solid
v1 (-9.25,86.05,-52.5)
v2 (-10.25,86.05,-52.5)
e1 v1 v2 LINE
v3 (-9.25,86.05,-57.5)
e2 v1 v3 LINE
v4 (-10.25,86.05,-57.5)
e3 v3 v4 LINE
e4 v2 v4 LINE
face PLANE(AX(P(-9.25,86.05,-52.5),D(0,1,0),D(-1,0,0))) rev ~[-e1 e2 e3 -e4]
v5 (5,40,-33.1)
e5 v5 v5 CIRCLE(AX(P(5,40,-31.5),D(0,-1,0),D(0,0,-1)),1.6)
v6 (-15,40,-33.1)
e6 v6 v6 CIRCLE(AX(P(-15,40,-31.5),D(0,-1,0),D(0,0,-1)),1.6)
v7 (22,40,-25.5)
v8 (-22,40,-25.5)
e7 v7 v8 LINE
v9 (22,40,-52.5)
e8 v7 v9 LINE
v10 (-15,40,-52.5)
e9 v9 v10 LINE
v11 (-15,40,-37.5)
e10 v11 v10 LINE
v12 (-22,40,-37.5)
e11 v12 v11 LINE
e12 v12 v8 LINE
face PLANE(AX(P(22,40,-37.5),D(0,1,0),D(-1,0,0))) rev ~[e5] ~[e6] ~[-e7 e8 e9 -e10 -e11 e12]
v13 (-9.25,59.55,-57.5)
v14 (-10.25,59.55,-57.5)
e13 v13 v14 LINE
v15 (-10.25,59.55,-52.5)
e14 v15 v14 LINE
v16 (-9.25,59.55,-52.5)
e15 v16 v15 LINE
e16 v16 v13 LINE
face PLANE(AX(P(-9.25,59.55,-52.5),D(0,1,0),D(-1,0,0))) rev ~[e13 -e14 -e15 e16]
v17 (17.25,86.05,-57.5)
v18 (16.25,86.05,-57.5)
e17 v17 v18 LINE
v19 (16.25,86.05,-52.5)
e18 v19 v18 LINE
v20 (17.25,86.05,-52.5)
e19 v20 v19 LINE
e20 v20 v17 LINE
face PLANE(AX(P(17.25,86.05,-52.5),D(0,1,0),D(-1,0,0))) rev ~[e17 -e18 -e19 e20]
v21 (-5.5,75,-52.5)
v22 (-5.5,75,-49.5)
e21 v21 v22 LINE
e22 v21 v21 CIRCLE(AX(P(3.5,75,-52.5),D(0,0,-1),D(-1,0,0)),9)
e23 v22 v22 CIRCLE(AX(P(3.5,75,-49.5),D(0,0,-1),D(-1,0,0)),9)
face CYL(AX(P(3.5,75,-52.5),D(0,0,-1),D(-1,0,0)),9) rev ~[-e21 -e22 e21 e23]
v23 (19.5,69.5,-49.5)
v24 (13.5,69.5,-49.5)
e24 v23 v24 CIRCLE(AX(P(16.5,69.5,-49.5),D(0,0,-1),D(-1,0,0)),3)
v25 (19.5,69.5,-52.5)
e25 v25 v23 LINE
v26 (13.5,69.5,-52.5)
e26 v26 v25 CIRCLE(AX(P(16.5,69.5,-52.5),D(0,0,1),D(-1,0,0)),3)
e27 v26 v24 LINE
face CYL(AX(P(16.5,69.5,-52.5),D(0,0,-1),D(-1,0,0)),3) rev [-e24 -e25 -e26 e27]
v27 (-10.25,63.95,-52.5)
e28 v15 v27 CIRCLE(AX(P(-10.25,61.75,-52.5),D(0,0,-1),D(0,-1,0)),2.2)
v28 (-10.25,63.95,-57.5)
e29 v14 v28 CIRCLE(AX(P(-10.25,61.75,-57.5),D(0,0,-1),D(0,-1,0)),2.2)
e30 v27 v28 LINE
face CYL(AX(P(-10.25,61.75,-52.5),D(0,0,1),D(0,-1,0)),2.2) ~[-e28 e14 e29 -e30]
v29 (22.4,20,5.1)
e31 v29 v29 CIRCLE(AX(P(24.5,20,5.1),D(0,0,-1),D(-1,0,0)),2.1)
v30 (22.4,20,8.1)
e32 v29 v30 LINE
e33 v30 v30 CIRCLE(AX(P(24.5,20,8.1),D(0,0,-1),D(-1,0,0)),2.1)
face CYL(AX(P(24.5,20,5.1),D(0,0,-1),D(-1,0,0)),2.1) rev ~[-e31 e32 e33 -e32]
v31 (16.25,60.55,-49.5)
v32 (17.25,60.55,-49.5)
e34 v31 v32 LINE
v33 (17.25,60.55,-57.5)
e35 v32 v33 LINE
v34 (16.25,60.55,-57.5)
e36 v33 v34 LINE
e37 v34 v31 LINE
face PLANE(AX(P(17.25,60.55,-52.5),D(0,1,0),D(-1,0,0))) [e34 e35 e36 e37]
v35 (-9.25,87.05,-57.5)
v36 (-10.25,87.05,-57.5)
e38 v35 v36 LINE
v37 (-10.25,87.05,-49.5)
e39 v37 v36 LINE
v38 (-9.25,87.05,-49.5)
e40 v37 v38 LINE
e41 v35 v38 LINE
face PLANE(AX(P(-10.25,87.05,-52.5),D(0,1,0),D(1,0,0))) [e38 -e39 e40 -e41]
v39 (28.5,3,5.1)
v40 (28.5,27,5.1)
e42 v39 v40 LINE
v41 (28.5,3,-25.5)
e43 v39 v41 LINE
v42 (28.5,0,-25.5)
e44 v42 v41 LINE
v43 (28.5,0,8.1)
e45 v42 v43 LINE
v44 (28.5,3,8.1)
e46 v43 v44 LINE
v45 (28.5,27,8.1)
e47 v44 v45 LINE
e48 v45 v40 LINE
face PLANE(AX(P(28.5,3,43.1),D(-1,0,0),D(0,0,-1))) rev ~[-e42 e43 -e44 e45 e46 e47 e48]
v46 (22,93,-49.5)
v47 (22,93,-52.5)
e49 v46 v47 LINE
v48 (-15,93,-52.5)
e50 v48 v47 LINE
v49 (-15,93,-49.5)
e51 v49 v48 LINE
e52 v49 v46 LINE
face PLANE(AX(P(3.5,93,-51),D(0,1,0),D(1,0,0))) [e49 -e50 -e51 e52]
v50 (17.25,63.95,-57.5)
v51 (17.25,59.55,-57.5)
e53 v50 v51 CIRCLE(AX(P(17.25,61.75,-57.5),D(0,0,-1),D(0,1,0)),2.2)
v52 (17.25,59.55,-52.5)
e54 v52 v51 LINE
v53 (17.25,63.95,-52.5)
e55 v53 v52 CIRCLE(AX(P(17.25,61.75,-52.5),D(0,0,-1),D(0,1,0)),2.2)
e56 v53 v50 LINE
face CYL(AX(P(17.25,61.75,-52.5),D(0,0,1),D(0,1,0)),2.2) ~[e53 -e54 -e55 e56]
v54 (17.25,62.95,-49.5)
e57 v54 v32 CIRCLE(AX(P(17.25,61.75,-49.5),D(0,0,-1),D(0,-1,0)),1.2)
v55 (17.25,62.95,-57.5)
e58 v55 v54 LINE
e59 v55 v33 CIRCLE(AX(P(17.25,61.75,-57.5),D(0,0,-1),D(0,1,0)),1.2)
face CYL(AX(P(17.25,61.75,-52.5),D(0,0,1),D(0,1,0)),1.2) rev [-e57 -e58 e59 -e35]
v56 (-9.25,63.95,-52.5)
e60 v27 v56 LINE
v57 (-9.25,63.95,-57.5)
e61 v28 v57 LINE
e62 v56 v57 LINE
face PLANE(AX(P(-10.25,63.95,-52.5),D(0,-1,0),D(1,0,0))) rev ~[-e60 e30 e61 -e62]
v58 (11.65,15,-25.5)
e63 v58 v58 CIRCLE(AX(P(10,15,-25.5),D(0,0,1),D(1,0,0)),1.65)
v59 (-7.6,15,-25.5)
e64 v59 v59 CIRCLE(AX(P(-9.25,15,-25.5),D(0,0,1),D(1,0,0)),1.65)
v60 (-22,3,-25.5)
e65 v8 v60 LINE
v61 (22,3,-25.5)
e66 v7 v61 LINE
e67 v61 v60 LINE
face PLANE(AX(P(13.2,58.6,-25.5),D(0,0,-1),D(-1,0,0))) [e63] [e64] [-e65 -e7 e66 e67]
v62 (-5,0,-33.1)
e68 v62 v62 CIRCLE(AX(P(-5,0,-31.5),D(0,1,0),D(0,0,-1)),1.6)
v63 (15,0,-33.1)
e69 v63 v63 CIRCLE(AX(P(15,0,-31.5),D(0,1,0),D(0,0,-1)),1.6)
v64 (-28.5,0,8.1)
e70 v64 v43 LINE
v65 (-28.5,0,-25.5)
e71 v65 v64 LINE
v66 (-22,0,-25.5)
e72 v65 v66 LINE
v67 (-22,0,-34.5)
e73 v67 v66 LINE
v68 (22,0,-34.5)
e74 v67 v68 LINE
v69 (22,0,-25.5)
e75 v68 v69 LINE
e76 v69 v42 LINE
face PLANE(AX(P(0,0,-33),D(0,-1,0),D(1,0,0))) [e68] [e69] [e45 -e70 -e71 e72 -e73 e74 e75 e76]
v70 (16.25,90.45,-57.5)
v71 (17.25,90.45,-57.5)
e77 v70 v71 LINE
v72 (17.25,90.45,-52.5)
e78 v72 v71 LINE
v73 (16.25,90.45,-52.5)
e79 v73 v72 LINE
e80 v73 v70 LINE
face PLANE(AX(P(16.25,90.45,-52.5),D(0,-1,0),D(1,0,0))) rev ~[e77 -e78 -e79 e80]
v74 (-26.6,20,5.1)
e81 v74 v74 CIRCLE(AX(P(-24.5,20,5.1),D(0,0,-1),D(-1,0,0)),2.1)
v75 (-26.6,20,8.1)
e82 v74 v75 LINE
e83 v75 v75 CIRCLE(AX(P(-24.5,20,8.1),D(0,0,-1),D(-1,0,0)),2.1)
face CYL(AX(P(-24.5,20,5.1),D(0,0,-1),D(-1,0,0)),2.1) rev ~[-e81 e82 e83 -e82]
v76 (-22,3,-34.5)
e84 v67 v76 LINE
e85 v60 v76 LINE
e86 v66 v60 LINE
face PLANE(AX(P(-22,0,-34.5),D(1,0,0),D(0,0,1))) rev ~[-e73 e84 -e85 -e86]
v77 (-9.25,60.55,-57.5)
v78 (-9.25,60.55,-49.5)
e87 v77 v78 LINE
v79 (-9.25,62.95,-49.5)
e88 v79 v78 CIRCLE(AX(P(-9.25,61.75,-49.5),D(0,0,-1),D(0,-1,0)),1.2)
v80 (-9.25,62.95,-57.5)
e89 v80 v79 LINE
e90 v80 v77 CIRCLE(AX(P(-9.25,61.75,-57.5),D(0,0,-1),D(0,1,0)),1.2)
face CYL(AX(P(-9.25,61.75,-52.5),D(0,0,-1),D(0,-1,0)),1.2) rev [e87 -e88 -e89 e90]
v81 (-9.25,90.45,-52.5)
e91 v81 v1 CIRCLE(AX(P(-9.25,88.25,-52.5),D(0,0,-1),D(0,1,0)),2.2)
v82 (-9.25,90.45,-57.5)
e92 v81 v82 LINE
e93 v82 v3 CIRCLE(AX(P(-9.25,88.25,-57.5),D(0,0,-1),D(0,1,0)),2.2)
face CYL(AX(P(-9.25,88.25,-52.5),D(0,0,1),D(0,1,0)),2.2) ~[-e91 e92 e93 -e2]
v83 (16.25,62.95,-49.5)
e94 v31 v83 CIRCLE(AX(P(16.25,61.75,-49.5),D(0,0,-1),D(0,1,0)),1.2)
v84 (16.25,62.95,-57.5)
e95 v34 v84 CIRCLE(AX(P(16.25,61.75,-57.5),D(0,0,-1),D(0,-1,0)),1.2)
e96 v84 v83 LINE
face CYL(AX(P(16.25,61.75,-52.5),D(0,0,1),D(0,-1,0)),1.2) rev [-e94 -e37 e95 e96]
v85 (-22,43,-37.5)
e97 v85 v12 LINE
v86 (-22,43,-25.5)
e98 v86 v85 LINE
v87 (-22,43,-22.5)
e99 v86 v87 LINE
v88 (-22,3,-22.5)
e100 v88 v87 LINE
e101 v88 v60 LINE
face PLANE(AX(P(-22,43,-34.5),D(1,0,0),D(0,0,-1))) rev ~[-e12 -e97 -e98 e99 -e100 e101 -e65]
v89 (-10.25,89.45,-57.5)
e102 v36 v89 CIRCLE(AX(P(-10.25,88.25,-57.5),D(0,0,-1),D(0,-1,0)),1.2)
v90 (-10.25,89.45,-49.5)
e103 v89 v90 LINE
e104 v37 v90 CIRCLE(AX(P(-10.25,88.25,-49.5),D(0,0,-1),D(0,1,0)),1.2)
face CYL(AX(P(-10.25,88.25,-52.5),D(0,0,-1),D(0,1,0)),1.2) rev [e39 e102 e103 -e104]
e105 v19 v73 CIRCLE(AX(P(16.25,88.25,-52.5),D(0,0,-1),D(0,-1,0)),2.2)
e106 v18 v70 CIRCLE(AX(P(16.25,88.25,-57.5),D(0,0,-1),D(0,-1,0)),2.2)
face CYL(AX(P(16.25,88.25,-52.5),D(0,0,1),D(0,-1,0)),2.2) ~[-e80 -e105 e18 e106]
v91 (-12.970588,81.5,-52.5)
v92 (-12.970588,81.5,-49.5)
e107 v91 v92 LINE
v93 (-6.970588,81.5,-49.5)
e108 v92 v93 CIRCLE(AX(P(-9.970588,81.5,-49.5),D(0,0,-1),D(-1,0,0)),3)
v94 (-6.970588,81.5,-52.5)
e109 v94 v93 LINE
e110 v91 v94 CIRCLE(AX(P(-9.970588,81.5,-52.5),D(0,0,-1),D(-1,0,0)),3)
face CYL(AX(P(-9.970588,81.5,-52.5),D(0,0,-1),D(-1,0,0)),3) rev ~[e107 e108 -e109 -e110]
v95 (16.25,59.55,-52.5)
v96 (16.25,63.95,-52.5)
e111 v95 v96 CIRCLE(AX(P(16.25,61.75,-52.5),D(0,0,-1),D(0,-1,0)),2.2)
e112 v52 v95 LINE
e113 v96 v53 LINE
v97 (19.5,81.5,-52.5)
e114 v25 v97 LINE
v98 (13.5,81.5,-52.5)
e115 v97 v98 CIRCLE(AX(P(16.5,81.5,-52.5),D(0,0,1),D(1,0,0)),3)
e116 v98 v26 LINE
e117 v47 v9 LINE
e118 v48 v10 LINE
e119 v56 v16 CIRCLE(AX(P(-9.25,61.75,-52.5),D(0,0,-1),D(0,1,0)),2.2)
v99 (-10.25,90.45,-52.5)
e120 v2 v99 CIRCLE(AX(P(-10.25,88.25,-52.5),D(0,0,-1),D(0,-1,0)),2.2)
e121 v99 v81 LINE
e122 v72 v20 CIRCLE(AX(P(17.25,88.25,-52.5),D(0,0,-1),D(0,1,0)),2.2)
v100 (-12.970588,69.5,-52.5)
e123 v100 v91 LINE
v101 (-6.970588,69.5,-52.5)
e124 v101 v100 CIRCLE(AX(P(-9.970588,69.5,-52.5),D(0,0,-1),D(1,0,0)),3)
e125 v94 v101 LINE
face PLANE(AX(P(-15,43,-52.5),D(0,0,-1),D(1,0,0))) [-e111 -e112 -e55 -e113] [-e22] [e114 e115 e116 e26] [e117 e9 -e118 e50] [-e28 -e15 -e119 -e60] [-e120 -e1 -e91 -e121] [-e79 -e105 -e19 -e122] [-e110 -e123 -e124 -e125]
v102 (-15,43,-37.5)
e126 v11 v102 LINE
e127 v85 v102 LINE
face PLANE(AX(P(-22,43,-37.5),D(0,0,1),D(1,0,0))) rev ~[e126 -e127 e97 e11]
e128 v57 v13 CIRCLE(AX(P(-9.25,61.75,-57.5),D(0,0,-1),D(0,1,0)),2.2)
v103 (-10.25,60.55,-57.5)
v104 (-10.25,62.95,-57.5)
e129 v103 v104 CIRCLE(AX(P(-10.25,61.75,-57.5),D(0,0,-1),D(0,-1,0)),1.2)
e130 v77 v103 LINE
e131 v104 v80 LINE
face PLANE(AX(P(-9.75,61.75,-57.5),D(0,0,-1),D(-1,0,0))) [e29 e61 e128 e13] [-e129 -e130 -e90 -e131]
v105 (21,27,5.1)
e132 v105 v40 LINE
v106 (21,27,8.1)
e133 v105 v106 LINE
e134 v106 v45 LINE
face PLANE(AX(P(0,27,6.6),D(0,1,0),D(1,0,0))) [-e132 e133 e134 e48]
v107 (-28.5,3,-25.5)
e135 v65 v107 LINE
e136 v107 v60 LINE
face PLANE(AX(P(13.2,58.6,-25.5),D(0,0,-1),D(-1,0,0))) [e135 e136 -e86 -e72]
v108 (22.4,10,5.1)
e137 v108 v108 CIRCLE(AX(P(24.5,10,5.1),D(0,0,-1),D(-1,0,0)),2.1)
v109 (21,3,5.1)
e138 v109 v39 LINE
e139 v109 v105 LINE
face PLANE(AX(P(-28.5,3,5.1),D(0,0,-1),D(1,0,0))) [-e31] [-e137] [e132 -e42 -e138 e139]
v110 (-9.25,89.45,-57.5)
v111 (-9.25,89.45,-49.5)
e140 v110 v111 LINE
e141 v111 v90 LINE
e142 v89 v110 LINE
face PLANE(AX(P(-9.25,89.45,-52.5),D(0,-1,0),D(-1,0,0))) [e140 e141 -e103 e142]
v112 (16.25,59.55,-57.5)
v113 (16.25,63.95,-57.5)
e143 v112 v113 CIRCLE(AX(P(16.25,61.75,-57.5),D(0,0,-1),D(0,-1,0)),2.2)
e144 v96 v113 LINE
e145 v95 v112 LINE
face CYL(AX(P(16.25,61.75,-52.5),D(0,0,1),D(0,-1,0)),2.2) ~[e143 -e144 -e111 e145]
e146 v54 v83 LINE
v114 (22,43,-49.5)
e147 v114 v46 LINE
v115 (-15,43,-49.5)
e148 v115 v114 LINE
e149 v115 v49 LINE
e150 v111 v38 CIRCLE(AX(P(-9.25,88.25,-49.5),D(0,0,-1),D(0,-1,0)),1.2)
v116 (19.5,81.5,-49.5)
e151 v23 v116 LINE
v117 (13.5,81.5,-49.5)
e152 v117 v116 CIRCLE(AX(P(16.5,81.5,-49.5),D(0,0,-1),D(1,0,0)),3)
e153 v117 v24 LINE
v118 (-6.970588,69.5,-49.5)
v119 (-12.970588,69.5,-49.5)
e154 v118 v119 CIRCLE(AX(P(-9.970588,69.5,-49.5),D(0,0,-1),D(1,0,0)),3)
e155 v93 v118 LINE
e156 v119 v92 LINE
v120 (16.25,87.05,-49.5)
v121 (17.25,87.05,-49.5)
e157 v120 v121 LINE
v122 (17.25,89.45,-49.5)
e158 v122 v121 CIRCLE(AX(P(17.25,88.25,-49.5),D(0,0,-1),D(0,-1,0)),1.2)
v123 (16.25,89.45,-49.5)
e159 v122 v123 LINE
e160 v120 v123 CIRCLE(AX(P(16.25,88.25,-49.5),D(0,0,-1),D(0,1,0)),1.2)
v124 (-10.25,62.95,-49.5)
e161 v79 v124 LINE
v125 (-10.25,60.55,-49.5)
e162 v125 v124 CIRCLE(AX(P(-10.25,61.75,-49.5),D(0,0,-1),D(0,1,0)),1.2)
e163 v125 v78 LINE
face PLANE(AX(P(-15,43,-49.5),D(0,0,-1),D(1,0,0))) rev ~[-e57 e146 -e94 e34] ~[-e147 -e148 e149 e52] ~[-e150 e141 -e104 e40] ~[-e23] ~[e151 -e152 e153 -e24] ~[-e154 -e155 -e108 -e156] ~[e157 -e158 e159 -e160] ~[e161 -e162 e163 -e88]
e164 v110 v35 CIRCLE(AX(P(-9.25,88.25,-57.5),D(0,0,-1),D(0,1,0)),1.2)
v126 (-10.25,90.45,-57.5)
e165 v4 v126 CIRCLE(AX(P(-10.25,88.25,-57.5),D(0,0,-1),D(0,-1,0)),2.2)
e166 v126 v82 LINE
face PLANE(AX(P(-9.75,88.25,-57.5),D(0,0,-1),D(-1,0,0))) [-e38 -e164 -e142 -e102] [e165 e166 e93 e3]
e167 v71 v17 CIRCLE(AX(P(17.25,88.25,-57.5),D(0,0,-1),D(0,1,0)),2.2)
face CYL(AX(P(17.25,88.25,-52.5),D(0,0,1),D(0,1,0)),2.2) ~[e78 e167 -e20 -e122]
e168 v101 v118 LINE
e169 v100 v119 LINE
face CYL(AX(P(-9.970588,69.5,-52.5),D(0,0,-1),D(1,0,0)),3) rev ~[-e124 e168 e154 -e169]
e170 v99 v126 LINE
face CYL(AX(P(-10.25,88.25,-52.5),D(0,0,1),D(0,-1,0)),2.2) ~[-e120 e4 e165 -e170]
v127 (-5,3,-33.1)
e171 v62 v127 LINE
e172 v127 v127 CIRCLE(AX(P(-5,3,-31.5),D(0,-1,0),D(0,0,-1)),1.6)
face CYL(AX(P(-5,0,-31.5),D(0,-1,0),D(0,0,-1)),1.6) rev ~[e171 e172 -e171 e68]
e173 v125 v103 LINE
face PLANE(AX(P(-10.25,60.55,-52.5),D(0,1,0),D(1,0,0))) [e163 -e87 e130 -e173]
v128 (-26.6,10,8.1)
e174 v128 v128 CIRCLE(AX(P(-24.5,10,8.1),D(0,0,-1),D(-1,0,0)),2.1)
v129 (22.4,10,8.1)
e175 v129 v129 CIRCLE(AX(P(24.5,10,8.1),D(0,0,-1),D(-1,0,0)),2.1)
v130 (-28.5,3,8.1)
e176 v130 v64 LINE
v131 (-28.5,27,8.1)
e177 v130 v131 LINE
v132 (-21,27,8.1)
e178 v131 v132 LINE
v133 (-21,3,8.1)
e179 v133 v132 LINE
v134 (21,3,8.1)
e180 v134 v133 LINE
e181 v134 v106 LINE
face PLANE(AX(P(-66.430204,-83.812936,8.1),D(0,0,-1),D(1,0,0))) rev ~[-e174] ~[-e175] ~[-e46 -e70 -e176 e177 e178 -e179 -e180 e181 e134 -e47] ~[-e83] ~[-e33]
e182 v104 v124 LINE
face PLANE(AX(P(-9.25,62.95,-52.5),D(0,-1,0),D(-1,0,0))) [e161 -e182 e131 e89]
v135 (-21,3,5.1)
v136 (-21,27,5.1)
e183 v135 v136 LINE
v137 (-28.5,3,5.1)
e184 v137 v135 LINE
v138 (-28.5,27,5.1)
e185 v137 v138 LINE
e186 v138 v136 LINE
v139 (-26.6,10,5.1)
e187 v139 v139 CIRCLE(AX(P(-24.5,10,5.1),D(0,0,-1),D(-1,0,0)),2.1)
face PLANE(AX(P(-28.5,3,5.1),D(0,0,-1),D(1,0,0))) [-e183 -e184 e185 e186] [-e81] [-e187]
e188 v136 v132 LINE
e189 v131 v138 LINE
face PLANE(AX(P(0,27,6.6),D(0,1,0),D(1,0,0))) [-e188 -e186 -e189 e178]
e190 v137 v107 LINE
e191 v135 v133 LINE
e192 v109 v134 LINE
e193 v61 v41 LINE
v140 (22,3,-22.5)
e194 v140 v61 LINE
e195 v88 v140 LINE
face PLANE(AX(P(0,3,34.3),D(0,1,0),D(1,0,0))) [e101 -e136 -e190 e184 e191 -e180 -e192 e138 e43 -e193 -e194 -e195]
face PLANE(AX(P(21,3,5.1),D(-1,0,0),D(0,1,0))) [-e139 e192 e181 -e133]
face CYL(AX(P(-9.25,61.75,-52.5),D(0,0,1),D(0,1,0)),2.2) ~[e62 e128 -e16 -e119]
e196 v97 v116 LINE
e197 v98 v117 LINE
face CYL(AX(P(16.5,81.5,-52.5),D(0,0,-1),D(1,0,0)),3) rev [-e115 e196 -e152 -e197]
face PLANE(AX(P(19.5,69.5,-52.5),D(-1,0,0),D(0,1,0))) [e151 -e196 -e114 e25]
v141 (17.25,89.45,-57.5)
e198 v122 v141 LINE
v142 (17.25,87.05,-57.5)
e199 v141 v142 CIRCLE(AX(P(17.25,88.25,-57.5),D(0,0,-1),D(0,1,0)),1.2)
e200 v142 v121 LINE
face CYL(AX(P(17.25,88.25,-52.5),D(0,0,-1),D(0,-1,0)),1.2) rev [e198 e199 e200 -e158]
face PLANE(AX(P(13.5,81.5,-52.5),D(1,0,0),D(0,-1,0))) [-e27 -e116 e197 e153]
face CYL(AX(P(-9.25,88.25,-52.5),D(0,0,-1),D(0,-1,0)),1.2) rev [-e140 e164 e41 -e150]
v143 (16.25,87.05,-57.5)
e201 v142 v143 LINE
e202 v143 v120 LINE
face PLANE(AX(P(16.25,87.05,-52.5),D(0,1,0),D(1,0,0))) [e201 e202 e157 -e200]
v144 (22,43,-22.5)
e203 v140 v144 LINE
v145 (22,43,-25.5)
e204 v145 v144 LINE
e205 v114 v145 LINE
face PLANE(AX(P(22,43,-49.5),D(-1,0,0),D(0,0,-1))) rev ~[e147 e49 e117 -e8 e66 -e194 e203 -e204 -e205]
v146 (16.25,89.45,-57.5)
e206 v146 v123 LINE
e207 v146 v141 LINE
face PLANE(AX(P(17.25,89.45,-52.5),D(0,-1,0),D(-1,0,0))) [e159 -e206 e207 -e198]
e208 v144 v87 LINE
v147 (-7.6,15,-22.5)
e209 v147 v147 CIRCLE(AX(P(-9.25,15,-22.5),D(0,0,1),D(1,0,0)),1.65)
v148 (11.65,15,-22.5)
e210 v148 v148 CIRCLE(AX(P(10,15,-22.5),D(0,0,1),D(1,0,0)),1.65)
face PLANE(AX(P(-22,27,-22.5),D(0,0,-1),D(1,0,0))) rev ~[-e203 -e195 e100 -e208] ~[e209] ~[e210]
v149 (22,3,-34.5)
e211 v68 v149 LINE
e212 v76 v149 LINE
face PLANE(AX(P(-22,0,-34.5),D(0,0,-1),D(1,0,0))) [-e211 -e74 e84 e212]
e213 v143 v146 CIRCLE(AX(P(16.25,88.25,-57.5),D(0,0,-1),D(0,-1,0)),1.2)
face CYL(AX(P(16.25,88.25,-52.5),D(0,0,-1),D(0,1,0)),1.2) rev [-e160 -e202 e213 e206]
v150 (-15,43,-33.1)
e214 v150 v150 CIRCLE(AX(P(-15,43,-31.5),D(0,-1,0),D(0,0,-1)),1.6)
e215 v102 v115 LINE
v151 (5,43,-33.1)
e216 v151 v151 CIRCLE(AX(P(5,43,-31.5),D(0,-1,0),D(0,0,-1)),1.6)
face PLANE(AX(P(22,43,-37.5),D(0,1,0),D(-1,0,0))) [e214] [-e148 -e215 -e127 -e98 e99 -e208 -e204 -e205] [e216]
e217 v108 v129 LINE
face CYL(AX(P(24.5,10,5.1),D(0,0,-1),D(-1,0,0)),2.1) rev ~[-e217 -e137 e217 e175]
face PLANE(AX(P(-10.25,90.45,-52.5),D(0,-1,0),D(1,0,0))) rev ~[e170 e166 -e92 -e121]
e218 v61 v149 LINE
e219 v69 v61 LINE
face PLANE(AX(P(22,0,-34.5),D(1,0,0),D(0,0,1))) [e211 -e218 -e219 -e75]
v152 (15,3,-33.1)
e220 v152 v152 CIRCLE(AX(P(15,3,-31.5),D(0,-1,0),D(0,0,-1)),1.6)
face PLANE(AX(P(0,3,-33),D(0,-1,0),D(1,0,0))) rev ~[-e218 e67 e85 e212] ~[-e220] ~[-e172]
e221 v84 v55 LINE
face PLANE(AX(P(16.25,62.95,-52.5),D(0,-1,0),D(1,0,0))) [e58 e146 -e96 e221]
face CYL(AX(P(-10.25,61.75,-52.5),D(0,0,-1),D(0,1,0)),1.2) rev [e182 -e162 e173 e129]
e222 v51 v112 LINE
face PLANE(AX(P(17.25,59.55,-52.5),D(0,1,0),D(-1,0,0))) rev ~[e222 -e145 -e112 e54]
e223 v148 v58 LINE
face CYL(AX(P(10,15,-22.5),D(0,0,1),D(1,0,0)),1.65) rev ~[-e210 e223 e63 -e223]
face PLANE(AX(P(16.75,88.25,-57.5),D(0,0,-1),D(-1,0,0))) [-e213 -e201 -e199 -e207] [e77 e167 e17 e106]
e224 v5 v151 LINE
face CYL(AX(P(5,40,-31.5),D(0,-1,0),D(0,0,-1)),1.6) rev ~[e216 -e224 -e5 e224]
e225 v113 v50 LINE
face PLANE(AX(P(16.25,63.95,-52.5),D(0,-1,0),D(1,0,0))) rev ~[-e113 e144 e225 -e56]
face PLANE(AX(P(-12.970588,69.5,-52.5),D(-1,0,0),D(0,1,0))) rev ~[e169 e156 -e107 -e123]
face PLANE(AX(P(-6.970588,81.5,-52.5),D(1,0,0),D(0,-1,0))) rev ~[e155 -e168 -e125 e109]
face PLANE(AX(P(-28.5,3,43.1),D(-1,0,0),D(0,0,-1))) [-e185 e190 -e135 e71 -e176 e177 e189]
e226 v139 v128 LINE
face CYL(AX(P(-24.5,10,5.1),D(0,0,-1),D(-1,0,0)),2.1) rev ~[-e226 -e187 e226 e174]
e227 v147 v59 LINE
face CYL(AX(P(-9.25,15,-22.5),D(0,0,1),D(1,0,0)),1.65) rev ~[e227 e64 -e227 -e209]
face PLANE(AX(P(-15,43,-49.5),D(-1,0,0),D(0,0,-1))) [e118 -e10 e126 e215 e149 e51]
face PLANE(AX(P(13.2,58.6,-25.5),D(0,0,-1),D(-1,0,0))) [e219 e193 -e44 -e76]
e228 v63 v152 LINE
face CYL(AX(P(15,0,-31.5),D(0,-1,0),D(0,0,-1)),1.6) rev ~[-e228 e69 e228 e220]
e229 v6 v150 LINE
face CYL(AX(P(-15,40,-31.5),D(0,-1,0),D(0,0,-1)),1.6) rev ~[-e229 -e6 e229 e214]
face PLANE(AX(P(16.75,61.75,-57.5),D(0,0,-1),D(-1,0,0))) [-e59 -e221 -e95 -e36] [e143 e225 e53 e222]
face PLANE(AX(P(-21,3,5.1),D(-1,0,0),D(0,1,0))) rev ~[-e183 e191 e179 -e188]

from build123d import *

# Parameters (mm, degrees)
SKETCH_1_W                = 57
SKETCH_1_H                = 51
EXTRUDE_1_DEPTH           = 3
SKETCH_3_W                = 44
SKETCH_3_H                = 3
EXTRUDE_3_DEPTH           = 24
SKETCH_5_W                = 57
SKETCH_5_H                = 3
EXTRUDE_4_DEPTH           = 24
SKETCH_7_R                = 2.1
CUT_EXTRUDE_1_DEPTH       = 3
SKETCH_8_W                = 42
SKETCH_8_H                = 24
CUT_EXTRUDE_2_DEPTH       = 3
SKETCH_10_W               = 44
SKETCH_10_H               = 3
EXTRUDE_5_DEPTH           = 55
SKETCH_11_R               = 2.25
EXTRUDE_6_DEPTH           = 8
SKETCH_12_W               = 13
SKETCH_12_H               = 8
CUT_EXTRUDE_4_DEPTH       = 8
SKETCH_13_R               = 1.1
CUT_EXTRUDE_5_DEPTH       = 5
SKETCH_14_W               = 44
SKETCH_14_H               = 3
EXTRUDE_7_DEPTH           = 6
SKETCH_15_W               = 44
SKETCH_15_H               = 3
EXTRUDE_8_DEPTH           = 9
SKETCH_16_R               = 1.6
CUT_EXTRUDE_6_DEPTH       = 9
SKETCH_17_R               = 1.6
CUT_EXTRUDE_8_DEPTH       = 9
SKETCH_18_W               = 57
SKETCH_18_H               = 17.6
EXTRUDE_9_DEPTH           = 3
SKETCH_19_W               = 57
SKETCH_19_H               = 3
EXTRUDE_10_DEPTH          = 25
SKETCH_20_W               = 51.895035654
SKETCH_20_H               = 47.139393347
CUT_EXTRUDE_9_DEPTH       = 10
SKETCH_21_W               = 3
SKETCH_21_H               = 32
EXTRUDE_11_DEPTH          = 34
SKETCH_22_R               = 2.25
SKETCH_22_R_2             = 1.2
EXTRUDE_12_DEPTH          = 5
SKETCH_24_R               = 9
CUT_EXTRUDE_11_DEPTH      = 5
SKETCH_25_R               = 1.65
CUT_EXTRUDE_12_DEPTH      = 10
SKETCH_26_R               = 1.1
SKETCH_26_R_2             = 1.2
CUT_EXTRUDE_13_DEPTH      = 10
SKETCH_27_W               = 20.53
SKETCH_27_H               = 21
CUT_EXTRUDE_14_DEPTH      = 10
SKETCH_28_W               = 44
SKETCH_28_H               = 3
EXTRUDE_13_DEPTH          = 3
SKETCH_29_W               = 44
SKETCH_29_H               = 3
EXTRUDE_14_DEPTH          = 3
SKETCH_30_R               = 1.6
CUT_EXTRUDE_15_DEPTH      = 3
SKETCH_33_R               = 1.65
CUT_EXTRUDE_16_DEPTH      = 3
CUT_EXTRUDE_21_DEPTH      = 86.812936088
CUT_EXTRUDE_21_DEPTH_BACK = 86.812936088
SKETCH_32_W               = 94.930204489
SKETCH_32_H               = 40.916543237
SKETCH_40_W               = 37
SKETCH_40_H               = 3
EXTRUDE_19_DEPTH          = 15
SKETCH_41_W               = 37
SKETCH_41_H               = 3
EXTRUDE_20_DEPTH          = 50
SKETCH_42_R               = 9
CUT_EXTRUDE_22_DEPTH      = 45
EXTRUDE_21_DEPTH          = 5
CUT_EXTRUDE_23_DEPTH      = 10


with BuildPart() as part:
    # 草图1 → 凸台-拉伸1 (new body)
    with BuildSketch(Plane(origin=(0, 0, 0), x_dir=(1, 0, 0), z_dir=(0, 1, 0))):
        Rectangle(SKETCH_1_W, SKETCH_1_H)
    extrude(amount=EXTRUDE_1_DEPTH)

    # 草图3 → 凸台-拉伸3 (add)
    with BuildSketch(Plane(origin=(0, 3, 0), x_dir=(1, 0, 0), z_dir=(0, 1, 0))):
        with Locations((0, 24)):
            Rectangle(SKETCH_3_W, SKETCH_3_H)
    extrude(amount=EXTRUDE_3_DEPTH)

    # 草图5 → 凸台-拉伸4 (add)
    with BuildSketch(Plane(origin=(0, 3, 0), x_dir=(1, 0, 0), z_dir=(0, 1, 0))):
        with Locations((0, -6.6)):
            Rectangle(SKETCH_5_W, SKETCH_5_H)
    extrude(amount=EXTRUDE_4_DEPTH)

    # 草图7 → 切除-拉伸1 (cut)
    with BuildSketch(Plane(origin=(0, 0, 5.1), x_dir=(-1, 0, 0), z_dir=(0, 0, -1))):
        with Locations((-24.5, 20)):
            Circle(SKETCH_7_R)
        with Locations((-24.5, 10)):
            Circle(SKETCH_7_R)
        with Locations((24.5, 20)):
            Circle(SKETCH_7_R)
        with Locations((24.5, 10)):
            Circle(SKETCH_7_R)
    extrude(amount=-CUT_EXTRUDE_1_DEPTH, mode=Mode.SUBTRACT)

    # 草图8 → 切除-拉伸2 (cut)
    with BuildSketch(Plane(origin=(0, 0, 5.1), x_dir=(-1, 0, 0), z_dir=(0, 0, -1))):
        with Locations((0, 15)):
            Rectangle(SKETCH_8_W, SKETCH_8_H)
    extrude(amount=-CUT_EXTRUDE_2_DEPTH, mode=Mode.SUBTRACT)

    # 草图10 → 凸台-拉伸5 (add)
    with BuildSketch(Plane(origin=(0, 27, 0), x_dir=(1, 0, 0), z_dir=(0, 1, 0))):
        with Locations((0, 24)):
            Rectangle(SKETCH_10_W, SKETCH_10_H)
    extrude(amount=EXTRUDE_5_DEPTH)

    # 草图11 → 凸台-拉伸6 (add)
    with BuildSketch(Plane(origin=(0, 0, -25.5), x_dir=(-1, 0, 0), z_dir=(0, 0, -1))):
        with Locations((-13.2, 85)):
            Circle(SKETCH_11_R)
        with Locations((13.2, 85)):
            Circle(SKETCH_11_R)
        with Locations((-13.2, 58.6)):
            Circle(SKETCH_11_R)
        with Locations((13.2, 58.6)):
            Circle(SKETCH_11_R)
    extrude(amount=-EXTRUDE_6_DEPTH)


with BuildPart() as extrude_6_piece_1:
    # of the separate pieces the step leaves, piece 1, a body of its own (extrude_6_pieces)
    add(part.part.solids().sort_by_distance((-28.5, 0, -25.5))[0])

    # 草图12 → 切除-拉伸4 (cut)
    with BuildSketch(Plane.XY.offset(-22.5)):
        with Locations((-3.7, 58.6)):
            Rectangle(SKETCH_12_W, SKETCH_12_H)
    extrude(amount=-CUT_EXTRUDE_4_DEPTH, mode=Mode.SUBTRACT)

    # 草图13 → 切除-拉伸5 (cut)
    with BuildSketch(Plane.XY.offset(-17.5)):
        with Locations((13.2, 85)):
            Circle(SKETCH_13_R)
        with Locations((-13.2, 85)):
            Circle(SKETCH_13_R)
        with Locations((-13.2, 58.6)):
            Circle(SKETCH_13_R)
        with Locations((13.2, 58.6)):
            Circle(SKETCH_13_R)
    extrude(amount=-CUT_EXTRUDE_5_DEPTH, mode=Mode.SUBTRACT)

    # 草图14 → 凸台-拉伸7 (add)
    with BuildSketch(Plane(origin=(0, 0, -25.5), x_dir=(-1, 0, 0), z_dir=(0, 0, -1))):
        with Locations((0, 1.5)):
            Rectangle(SKETCH_14_W, SKETCH_14_H)
    extrude(amount=EXTRUDE_7_DEPTH)

    # 草图15 → 凸台-拉伸8 (add)
    with BuildSketch(Plane(origin=(0, 0, -25.5), x_dir=(-1, 0, 0), z_dir=(0, 0, -1))):
        with Locations((0, 41.5)):
            Rectangle(SKETCH_15_W, SKETCH_15_H)
    extrude(amount=EXTRUDE_8_DEPTH)

    # 草图16 → 切除-拉伸6 (cut)
    with BuildSketch(Plane(origin=(0, 40, 0), x_dir=(-1, 0, 0), z_dir=(0, -1, 0))):
        with Locations(Location((15, 31.5, 0), (0, 0, 90))):
            Circle(SKETCH_16_R)
        with Locations(Location((-5, 31.5, 0), (0, 0, 90))):
            Circle(SKETCH_16_R)
    extrude(amount=-CUT_EXTRUDE_6_DEPTH, mode=Mode.SUBTRACT)

    # 草图17 → 切除-拉伸8 (cut)
    with BuildSketch(Plane(origin=(0, 0, 0), x_dir=(1, 0, 0), z_dir=(0, 1, 0))):
        with Locations((-5, 31.5)):
            Circle(SKETCH_17_R)
        with Locations((15, 31.5)):
            Circle(SKETCH_17_R)
    extrude(amount=CUT_EXTRUDE_8_DEPTH, mode=Mode.SUBTRACT)

    # 草图18 → 凸台-拉伸9 (add)
    with BuildSketch(Plane(origin=(0, 3, 0), x_dir=(1, 0, 0), z_dir=(0, 1, 0))):
        with Locations((0, -34.3)):
            Rectangle(SKETCH_18_W, SKETCH_18_H)
    extrude(amount=-EXTRUDE_9_DEPTH)

    # 草图19 → 凸台-拉伸10 (add)
    with BuildSketch(Plane(origin=(0, 3, 0), x_dir=(1, 0, 0), z_dir=(0, 1, 0))):
        with Locations((0, -41.6)):
            Rectangle(SKETCH_19_W, SKETCH_19_H)
    extrude(amount=EXTRUDE_10_DEPTH)


with BuildPart() as extrude_6_piece_2:
    # of the separate pieces the step leaves, piece 2, a body of its own (extrude_6_pieces)
    add(part.part.solids().sort_by_distance((-15.45, 85, -25.5))[0])


with BuildPart() as extrude_6_piece_3:
    # of the separate pieces the step leaves, piece 3, a body of its own (extrude_6_pieces)
    add(part.part.solids().sort_by_distance((10.95, 85, -25.5))[0])


with BuildPart() as cut_extrude_9_tool:
    # 草图20 → 切除-拉伸9 (new body)
    with BuildSketch(Plane(origin=(0, 0, -25.5), x_dir=(-1, 0, 0), z_dir=(0, 0, -1))):
        with Locations((-3.947517827, 66.569696674)):
            Rectangle(SKETCH_20_W, SKETCH_20_H)
    extrude(amount=-CUT_EXTRUDE_9_DEPTH)


with BuildPart() as extrude_6_piece_1_1:
    add(extrude_6_piece_1.part)

    # 切除-拉伸9: cut by cut_extrude_9_tool
    add(cut_extrude_9_tool.part, mode=Mode.SUBTRACT)

    # 草图21 → 凸台-拉伸11 (add)
    with BuildSketch(Plane.ZY.offset(28.5)):
        with Locations((41.6, 16)):
            Rectangle(SKETCH_21_W, SKETCH_21_H)
    extrude(amount=EXTRUDE_11_DEPTH)

    # 草图22 → 凸台-拉伸12 (add)
    # profile 1 of 4: a face of its own
    with BuildSketch(Plane(origin=(0, 0, 40.1), x_dir=(-1, 0, 0), z_dir=(0, 0, -1))):
        with Locations(Location((59.75, 2.75, 0), (0, 0, 180))):
            Circle(SKETCH_22_R)
        with Locations((59.75, 2.75)):
            Circle(SKETCH_22_R_2, mode=Mode.SUBTRACT)
    # profile 2 of 4: a face of its own
    with BuildSketch(Plane(origin=(0, 0, 40.1), x_dir=(-1, 0, 0), z_dir=(0, 0, -1))):
        with Locations(Location((59.75, 29.25, 0), (0, 0, 180))):
            Circle(SKETCH_22_R)
        with Locations((59.75, 29.25)):
            Circle(SKETCH_22_R_2, mode=Mode.SUBTRACT)
    # profile 3 of 4: a face of its own
    with BuildSketch(Plane(origin=(0, 0, 40.1), x_dir=(-1, 0, 0), z_dir=(0, 0, -1))):
        with Locations(Location((33.25, 29.25, 0), (0, 0, 180))):
            Circle(SKETCH_22_R)
        with Locations((33.25, 29.25)):
            Circle(SKETCH_22_R_2, mode=Mode.SUBTRACT)
    # profile 4 of 4: a face of its own
    with BuildSketch(Plane(origin=(0, 0, 40.1), x_dir=(-1, 0, 0), z_dir=(0, 0, -1))):
        with Locations(Location((33.25, 2.75, 0), (0, 0, 180))):
            Circle(SKETCH_22_R)
        with Locations((33.25, 2.75)):
            Circle(SKETCH_22_R_2, mode=Mode.SUBTRACT)
    extrude(amount=EXTRUDE_12_DEPTH)

    # 草图24 → 切除-拉伸11 (cut)
    with BuildSketch(Plane(origin=(0, 0, 40.1), x_dir=(-1, 0, 0), z_dir=(0, 0, -1))):
        with Locations((46.5, 16)):
            Circle(SKETCH_24_R)
    extrude(amount=-CUT_EXTRUDE_11_DEPTH, mode=Mode.SUBTRACT)

    # 草图25 → 切除-拉伸12 (cut)
    with BuildSketch(Plane.XY.offset(43.1)):
        with Locations((-9.25, 15)):
            Circle(SKETCH_25_R)
        with Locations((10, 15)):
            Circle(SKETCH_25_R)
    extrude(amount=-CUT_EXTRUDE_12_DEPTH, mode=Mode.SUBTRACT)

    # 草图26 → 切除-拉伸13 (cut)
    with BuildSketch(Plane(origin=(0, 0, 40.1), x_dir=(-1, 0, 0), z_dir=(0, 0, -1))):
        with Locations((33.25, 2.75)):
            Circle(SKETCH_26_R)
        with Locations(Location((33.25, 29.25, 0), (0, 0, 180))):
            Circle(SKETCH_26_R_2)
        with Locations(Location((59.75, 29.25, 0), (0, 0, 180))):
            Circle(SKETCH_26_R_2)
        with Locations(Location((59.75, 2.75, 0), (0, 0, 180))):
            Circle(SKETCH_26_R_2)
    extrude(amount=-CUT_EXTRUDE_13_DEPTH, mode=Mode.SUBTRACT)

    # 草图27 → 切除-拉伸14 (cut)
    with BuildSketch(Plane.XY.offset(43.1)):
        with BuildLine():
            Line((-34.75, 9.5), (-34.75, 22.5))
            ThreePointArc((-34.75, 22.5), (-31.25, 26), (-27.75, 22.5))
            Line((-27.75, 22.5), (-27.75, 9.5))
            ThreePointArc((-27.75, 9.5), (-31.25, 6), (-34.75, 9.5))
        make_face()
        with Locations((-69.113685247, 16)):
            Rectangle(SKETCH_27_W, SKETCH_27_H)
    extrude(amount=-CUT_EXTRUDE_14_DEPTH, mode=Mode.SUBTRACT)

    # 草图28 → 凸台-拉伸13 (add)
    with BuildSketch(Plane.XZ):
        with Locations((0, -33)):
            Rectangle(SKETCH_28_W, SKETCH_28_H)
    extrude(amount=-EXTRUDE_13_DEPTH)

    # 草图29 → 凸台-拉伸14 (add)
    with BuildSketch(Plane(origin=(0, 43, 0), x_dir=(1, 0, 0), z_dir=(0, 1, 0))):
        with Locations((0, 36)):
            Rectangle(SKETCH_29_W, SKETCH_29_H)
    extrude(amount=-EXTRUDE_14_DEPTH)

    # 草图30 → 切除-拉伸15 (cut)
    with BuildSketch(Plane.XZ):
        with Locations(Location((15, -31.5, 0), (0, 0, 270))):
            Circle(SKETCH_30_R)
        with Locations(Location((-5, -31.5, 0), (0, 0, 270))):
            Circle(SKETCH_30_R)
    extrude(amount=-CUT_EXTRUDE_15_DEPTH, mode=Mode.SUBTRACT)

    # 草图33 → 切除-拉伸16 (cut)
    with BuildSketch(Plane.XY.offset(-22.5)):
        with Locations((-9.25, 15)):
            Circle(SKETCH_33_R)
        with Locations((10, 15)):
            Circle(SKETCH_33_R)
    extrude(amount=-CUT_EXTRUDE_16_DEPTH, mode=Mode.SUBTRACT)

    # 草图32 → 切除-拉伸21 (cut, two sides: drawn at the far end of the back side and taken through both)
    with BuildSketch(Plane(origin=(0, 3, 0), x_dir=(1, 0, 0), z_dir=(0, 1, 0)).offset(-CUT_EXTRUDE_21_DEPTH_BACK)):
        with Locations((-18.965102245, -28.558271619)):
            Rectangle(SKETCH_32_W, SKETCH_32_H)
    extrude(amount=CUT_EXTRUDE_21_DEPTH + CUT_EXTRUDE_21_DEPTH_BACK, mode=Mode.SUBTRACT)

    # 草图40 → 凸台-拉伸19 (add)
    with BuildSketch(Plane(origin=(0, 0, -37.5), x_dir=(-1, 0, 0), z_dir=(0, 0, -1))):
        with Locations((-3.5, 41.5)):
            Rectangle(SKETCH_40_W, SKETCH_40_H)
    extrude(amount=EXTRUDE_19_DEPTH)

    # 草图41 → 凸台-拉伸20 (add)
    with BuildSketch(Plane(origin=(0, 43, 0), x_dir=(1, 0, 0), z_dir=(0, 1, 0))):
        with Locations((3.5, 51)):
            Rectangle(SKETCH_41_W, SKETCH_41_H)
    extrude(amount=EXTRUDE_20_DEPTH)

    # 草图42 → 切除-拉伸22 (cut)
    with BuildSketch(Plane(origin=(0, 0, -52.5), x_dir=(-1, 0, 0), z_dir=(0, 0, -1))):
        with Locations((-3.5, 75)):
            Circle(SKETCH_42_R)
        with BuildLine():
            Line((-17.25, 89.45), (-16.25, 89.45))
            ThreePointArc((-16.25, 89.45), (-15.05, 88.25), (-16.25, 87.05))
            Line((-16.25, 87.05), (-17.25, 87.05))
            ThreePointArc((-17.25, 87.05), (-18.45, 88.25), (-17.25, 89.45))
        make_face()
        with BuildLine():
            Line((10.25, 60.55), (9.25, 60.55))
            ThreePointArc((9.25, 60.55), (8.05, 61.75), (9.25, 62.95))
            Line((9.25, 62.95), (10.25, 62.95))
            ThreePointArc((10.25, 62.95), (11.45, 61.75), (10.25, 60.55))
        make_face()
        with BuildLine():
            Line((-16.25, 60.55), (-17.25, 60.55))
            ThreePointArc((-17.25, 60.55), (-18.45, 61.75), (-17.25, 62.95))
            Line((-17.25, 62.95), (-16.25, 62.95))
            ThreePointArc((-16.25, 62.95), (-15.05, 61.75), (-16.25, 60.55))
        make_face()
        with BuildLine():
            Line((10.25, 87.05), (9.25, 87.05))
            ThreePointArc((9.25, 87.05), (8.05, 88.25), (9.25, 89.45))
            Line((9.25, 89.45), (10.25, 89.45))
            ThreePointArc((10.25, 89.45), (11.45, 88.25), (10.25, 87.05))
        make_face()
    extrude(amount=-CUT_EXTRUDE_22_DEPTH, mode=Mode.SUBTRACT)

    # 草图43 → 凸台-拉伸21 (add)
    # profile 1 of 4: a face of its own
    with BuildSketch(Plane(origin=(0, 0, -52.5), x_dir=(-1, 0, 0), z_dir=(0, 0, -1))):
        with BuildLine():
            Line((-17.25, 59.55), (-16.25, 59.55))
            ThreePointArc((-16.25, 59.55), (-14.05, 61.75), (-16.25, 63.95))
            Line((-16.25, 63.95), (-17.25, 63.95))
            ThreePointArc((-17.25, 63.95), (-19.45, 61.75), (-17.25, 59.55))
        make_face()
        with BuildLine():
            Line((-17.25, 60.55), (-16.25, 60.55))
            ThreePointArc((-16.25, 60.55), (-15.05, 61.75), (-16.25, 62.95))
            Line((-16.25, 62.95), (-17.25, 62.95))
            ThreePointArc((-17.25, 62.95), (-18.45, 61.75), (-17.25, 60.55))
        make_face(mode=Mode.SUBTRACT)
    # profile 2 of 4: a face of its own
    with BuildSketch(Plane(origin=(0, 0, -52.5), x_dir=(-1, 0, 0), z_dir=(0, 0, -1))):
        with BuildLine():
            Line((9.25, 59.55), (10.25, 59.55))
            ThreePointArc((10.25, 59.55), (12.45, 61.75), (10.25, 63.95))
            Line((10.25, 63.95), (9.25, 63.95))
            ThreePointArc((9.25, 63.95), (7.05, 61.75), (9.25, 59.55))
        make_face()
        with BuildLine():
            Line((9.25, 60.55), (10.25, 60.55))
            ThreePointArc((10.25, 60.55), (11.45, 61.75), (10.25, 62.95))
            Line((10.25, 62.95), (9.25, 62.95))
            ThreePointArc((9.25, 62.95), (8.05, 61.75), (9.25, 60.55))
        make_face(mode=Mode.SUBTRACT)
    # profile 3 of 4: a face of its own
    with BuildSketch(Plane(origin=(0, 0, -52.5), x_dir=(-1, 0, 0), z_dir=(0, 0, -1))):
        with BuildLine():
            Line((9.25, 86.05), (10.25, 86.05))
            ThreePointArc((10.25, 86.05), (12.45, 88.25), (10.25, 90.45))
            Line((10.25, 90.45), (9.25, 90.45))
            ThreePointArc((9.25, 90.45), (7.05, 88.25), (9.25, 86.05))
        make_face()
        with BuildLine():
            Line((9.25, 87.05), (10.25, 87.05))
            ThreePointArc((10.25, 87.05), (11.45, 88.25), (10.25, 89.45))
            Line((10.25, 89.45), (9.25, 89.45))
            ThreePointArc((9.25, 89.45), (8.05, 88.25), (9.25, 87.05))
        make_face(mode=Mode.SUBTRACT)
    # profile 4 of 4: a face of its own
    with BuildSketch(Plane(origin=(0, 0, -52.5), x_dir=(-1, 0, 0), z_dir=(0, 0, -1))):
        with BuildLine():
            Line((-17.25, 86.05), (-16.25, 86.05))
            ThreePointArc((-16.25, 86.05), (-14.05, 88.25), (-16.25, 90.45))
            Line((-16.25, 90.45), (-17.25, 90.45))
            ThreePointArc((-17.25, 90.45), (-19.45, 88.25), (-17.25, 86.05))
        make_face()
        with BuildLine():
            Line((-17.25, 87.05), (-16.25, 87.05))
            ThreePointArc((-16.25, 87.05), (-15.05, 88.25), (-16.25, 89.45))
            Line((-16.25, 89.45), (-17.25, 89.45))
            ThreePointArc((-17.25, 89.45), (-18.45, 88.25), (-17.25, 87.05))
        make_face(mode=Mode.SUBTRACT)
    extrude(amount=EXTRUDE_21_DEPTH)

    # 草图44 → 切除-拉伸23 (cut)
    with BuildSketch(Plane(origin=(0, 0, -52.5), x_dir=(-1, 0, 0), z_dir=(0, 0, -1))):
        with BuildLine():
            Line((-13.5, 81.5), (-13.5, 69.5))
            ThreePointArc((-13.5, 69.5), (-16.5, 66.5), (-19.5, 69.5))
            Line((-19.5, 69.5), (-19.5, 81.5))
            ThreePointArc((-19.5, 81.5), (-16.5, 84.5), (-13.5, 81.5))
        make_face()
        with BuildLine():
            Line((6.970588235, 81.5), (6.970588235, 69.5))
            ThreePointArc((6.970588235, 69.5), (9.970588235, 66.5), (12.970588235, 69.5))
            Line((12.970588235, 69.5), (12.970588235, 81.5))
            ThreePointArc((12.970588235, 81.5), (9.970588235, 84.5), (6.970588235, 81.5))
        make_face()
    extrude(amount=-CUT_EXTRUDE_23_DEPTH, mode=Mode.SUBTRACT)


with BuildPart() as extrude_6_piece_2_1:
    add(extrude_6_piece_2.part)

    # 切除-拉伸9: cut by cut_extrude_9_tool
    add(cut_extrude_9_tool.part, mode=Mode.SUBTRACT)


with BuildPart() as extrude_6_piece_3_1:
    add(extrude_6_piece_3.part)

    # 切除-拉伸9: cut by cut_extrude_9_tool
    add(cut_extrude_9_tool.part, mode=Mode.SUBTRACT)


solid = extrude_6_piece_1_1.part
